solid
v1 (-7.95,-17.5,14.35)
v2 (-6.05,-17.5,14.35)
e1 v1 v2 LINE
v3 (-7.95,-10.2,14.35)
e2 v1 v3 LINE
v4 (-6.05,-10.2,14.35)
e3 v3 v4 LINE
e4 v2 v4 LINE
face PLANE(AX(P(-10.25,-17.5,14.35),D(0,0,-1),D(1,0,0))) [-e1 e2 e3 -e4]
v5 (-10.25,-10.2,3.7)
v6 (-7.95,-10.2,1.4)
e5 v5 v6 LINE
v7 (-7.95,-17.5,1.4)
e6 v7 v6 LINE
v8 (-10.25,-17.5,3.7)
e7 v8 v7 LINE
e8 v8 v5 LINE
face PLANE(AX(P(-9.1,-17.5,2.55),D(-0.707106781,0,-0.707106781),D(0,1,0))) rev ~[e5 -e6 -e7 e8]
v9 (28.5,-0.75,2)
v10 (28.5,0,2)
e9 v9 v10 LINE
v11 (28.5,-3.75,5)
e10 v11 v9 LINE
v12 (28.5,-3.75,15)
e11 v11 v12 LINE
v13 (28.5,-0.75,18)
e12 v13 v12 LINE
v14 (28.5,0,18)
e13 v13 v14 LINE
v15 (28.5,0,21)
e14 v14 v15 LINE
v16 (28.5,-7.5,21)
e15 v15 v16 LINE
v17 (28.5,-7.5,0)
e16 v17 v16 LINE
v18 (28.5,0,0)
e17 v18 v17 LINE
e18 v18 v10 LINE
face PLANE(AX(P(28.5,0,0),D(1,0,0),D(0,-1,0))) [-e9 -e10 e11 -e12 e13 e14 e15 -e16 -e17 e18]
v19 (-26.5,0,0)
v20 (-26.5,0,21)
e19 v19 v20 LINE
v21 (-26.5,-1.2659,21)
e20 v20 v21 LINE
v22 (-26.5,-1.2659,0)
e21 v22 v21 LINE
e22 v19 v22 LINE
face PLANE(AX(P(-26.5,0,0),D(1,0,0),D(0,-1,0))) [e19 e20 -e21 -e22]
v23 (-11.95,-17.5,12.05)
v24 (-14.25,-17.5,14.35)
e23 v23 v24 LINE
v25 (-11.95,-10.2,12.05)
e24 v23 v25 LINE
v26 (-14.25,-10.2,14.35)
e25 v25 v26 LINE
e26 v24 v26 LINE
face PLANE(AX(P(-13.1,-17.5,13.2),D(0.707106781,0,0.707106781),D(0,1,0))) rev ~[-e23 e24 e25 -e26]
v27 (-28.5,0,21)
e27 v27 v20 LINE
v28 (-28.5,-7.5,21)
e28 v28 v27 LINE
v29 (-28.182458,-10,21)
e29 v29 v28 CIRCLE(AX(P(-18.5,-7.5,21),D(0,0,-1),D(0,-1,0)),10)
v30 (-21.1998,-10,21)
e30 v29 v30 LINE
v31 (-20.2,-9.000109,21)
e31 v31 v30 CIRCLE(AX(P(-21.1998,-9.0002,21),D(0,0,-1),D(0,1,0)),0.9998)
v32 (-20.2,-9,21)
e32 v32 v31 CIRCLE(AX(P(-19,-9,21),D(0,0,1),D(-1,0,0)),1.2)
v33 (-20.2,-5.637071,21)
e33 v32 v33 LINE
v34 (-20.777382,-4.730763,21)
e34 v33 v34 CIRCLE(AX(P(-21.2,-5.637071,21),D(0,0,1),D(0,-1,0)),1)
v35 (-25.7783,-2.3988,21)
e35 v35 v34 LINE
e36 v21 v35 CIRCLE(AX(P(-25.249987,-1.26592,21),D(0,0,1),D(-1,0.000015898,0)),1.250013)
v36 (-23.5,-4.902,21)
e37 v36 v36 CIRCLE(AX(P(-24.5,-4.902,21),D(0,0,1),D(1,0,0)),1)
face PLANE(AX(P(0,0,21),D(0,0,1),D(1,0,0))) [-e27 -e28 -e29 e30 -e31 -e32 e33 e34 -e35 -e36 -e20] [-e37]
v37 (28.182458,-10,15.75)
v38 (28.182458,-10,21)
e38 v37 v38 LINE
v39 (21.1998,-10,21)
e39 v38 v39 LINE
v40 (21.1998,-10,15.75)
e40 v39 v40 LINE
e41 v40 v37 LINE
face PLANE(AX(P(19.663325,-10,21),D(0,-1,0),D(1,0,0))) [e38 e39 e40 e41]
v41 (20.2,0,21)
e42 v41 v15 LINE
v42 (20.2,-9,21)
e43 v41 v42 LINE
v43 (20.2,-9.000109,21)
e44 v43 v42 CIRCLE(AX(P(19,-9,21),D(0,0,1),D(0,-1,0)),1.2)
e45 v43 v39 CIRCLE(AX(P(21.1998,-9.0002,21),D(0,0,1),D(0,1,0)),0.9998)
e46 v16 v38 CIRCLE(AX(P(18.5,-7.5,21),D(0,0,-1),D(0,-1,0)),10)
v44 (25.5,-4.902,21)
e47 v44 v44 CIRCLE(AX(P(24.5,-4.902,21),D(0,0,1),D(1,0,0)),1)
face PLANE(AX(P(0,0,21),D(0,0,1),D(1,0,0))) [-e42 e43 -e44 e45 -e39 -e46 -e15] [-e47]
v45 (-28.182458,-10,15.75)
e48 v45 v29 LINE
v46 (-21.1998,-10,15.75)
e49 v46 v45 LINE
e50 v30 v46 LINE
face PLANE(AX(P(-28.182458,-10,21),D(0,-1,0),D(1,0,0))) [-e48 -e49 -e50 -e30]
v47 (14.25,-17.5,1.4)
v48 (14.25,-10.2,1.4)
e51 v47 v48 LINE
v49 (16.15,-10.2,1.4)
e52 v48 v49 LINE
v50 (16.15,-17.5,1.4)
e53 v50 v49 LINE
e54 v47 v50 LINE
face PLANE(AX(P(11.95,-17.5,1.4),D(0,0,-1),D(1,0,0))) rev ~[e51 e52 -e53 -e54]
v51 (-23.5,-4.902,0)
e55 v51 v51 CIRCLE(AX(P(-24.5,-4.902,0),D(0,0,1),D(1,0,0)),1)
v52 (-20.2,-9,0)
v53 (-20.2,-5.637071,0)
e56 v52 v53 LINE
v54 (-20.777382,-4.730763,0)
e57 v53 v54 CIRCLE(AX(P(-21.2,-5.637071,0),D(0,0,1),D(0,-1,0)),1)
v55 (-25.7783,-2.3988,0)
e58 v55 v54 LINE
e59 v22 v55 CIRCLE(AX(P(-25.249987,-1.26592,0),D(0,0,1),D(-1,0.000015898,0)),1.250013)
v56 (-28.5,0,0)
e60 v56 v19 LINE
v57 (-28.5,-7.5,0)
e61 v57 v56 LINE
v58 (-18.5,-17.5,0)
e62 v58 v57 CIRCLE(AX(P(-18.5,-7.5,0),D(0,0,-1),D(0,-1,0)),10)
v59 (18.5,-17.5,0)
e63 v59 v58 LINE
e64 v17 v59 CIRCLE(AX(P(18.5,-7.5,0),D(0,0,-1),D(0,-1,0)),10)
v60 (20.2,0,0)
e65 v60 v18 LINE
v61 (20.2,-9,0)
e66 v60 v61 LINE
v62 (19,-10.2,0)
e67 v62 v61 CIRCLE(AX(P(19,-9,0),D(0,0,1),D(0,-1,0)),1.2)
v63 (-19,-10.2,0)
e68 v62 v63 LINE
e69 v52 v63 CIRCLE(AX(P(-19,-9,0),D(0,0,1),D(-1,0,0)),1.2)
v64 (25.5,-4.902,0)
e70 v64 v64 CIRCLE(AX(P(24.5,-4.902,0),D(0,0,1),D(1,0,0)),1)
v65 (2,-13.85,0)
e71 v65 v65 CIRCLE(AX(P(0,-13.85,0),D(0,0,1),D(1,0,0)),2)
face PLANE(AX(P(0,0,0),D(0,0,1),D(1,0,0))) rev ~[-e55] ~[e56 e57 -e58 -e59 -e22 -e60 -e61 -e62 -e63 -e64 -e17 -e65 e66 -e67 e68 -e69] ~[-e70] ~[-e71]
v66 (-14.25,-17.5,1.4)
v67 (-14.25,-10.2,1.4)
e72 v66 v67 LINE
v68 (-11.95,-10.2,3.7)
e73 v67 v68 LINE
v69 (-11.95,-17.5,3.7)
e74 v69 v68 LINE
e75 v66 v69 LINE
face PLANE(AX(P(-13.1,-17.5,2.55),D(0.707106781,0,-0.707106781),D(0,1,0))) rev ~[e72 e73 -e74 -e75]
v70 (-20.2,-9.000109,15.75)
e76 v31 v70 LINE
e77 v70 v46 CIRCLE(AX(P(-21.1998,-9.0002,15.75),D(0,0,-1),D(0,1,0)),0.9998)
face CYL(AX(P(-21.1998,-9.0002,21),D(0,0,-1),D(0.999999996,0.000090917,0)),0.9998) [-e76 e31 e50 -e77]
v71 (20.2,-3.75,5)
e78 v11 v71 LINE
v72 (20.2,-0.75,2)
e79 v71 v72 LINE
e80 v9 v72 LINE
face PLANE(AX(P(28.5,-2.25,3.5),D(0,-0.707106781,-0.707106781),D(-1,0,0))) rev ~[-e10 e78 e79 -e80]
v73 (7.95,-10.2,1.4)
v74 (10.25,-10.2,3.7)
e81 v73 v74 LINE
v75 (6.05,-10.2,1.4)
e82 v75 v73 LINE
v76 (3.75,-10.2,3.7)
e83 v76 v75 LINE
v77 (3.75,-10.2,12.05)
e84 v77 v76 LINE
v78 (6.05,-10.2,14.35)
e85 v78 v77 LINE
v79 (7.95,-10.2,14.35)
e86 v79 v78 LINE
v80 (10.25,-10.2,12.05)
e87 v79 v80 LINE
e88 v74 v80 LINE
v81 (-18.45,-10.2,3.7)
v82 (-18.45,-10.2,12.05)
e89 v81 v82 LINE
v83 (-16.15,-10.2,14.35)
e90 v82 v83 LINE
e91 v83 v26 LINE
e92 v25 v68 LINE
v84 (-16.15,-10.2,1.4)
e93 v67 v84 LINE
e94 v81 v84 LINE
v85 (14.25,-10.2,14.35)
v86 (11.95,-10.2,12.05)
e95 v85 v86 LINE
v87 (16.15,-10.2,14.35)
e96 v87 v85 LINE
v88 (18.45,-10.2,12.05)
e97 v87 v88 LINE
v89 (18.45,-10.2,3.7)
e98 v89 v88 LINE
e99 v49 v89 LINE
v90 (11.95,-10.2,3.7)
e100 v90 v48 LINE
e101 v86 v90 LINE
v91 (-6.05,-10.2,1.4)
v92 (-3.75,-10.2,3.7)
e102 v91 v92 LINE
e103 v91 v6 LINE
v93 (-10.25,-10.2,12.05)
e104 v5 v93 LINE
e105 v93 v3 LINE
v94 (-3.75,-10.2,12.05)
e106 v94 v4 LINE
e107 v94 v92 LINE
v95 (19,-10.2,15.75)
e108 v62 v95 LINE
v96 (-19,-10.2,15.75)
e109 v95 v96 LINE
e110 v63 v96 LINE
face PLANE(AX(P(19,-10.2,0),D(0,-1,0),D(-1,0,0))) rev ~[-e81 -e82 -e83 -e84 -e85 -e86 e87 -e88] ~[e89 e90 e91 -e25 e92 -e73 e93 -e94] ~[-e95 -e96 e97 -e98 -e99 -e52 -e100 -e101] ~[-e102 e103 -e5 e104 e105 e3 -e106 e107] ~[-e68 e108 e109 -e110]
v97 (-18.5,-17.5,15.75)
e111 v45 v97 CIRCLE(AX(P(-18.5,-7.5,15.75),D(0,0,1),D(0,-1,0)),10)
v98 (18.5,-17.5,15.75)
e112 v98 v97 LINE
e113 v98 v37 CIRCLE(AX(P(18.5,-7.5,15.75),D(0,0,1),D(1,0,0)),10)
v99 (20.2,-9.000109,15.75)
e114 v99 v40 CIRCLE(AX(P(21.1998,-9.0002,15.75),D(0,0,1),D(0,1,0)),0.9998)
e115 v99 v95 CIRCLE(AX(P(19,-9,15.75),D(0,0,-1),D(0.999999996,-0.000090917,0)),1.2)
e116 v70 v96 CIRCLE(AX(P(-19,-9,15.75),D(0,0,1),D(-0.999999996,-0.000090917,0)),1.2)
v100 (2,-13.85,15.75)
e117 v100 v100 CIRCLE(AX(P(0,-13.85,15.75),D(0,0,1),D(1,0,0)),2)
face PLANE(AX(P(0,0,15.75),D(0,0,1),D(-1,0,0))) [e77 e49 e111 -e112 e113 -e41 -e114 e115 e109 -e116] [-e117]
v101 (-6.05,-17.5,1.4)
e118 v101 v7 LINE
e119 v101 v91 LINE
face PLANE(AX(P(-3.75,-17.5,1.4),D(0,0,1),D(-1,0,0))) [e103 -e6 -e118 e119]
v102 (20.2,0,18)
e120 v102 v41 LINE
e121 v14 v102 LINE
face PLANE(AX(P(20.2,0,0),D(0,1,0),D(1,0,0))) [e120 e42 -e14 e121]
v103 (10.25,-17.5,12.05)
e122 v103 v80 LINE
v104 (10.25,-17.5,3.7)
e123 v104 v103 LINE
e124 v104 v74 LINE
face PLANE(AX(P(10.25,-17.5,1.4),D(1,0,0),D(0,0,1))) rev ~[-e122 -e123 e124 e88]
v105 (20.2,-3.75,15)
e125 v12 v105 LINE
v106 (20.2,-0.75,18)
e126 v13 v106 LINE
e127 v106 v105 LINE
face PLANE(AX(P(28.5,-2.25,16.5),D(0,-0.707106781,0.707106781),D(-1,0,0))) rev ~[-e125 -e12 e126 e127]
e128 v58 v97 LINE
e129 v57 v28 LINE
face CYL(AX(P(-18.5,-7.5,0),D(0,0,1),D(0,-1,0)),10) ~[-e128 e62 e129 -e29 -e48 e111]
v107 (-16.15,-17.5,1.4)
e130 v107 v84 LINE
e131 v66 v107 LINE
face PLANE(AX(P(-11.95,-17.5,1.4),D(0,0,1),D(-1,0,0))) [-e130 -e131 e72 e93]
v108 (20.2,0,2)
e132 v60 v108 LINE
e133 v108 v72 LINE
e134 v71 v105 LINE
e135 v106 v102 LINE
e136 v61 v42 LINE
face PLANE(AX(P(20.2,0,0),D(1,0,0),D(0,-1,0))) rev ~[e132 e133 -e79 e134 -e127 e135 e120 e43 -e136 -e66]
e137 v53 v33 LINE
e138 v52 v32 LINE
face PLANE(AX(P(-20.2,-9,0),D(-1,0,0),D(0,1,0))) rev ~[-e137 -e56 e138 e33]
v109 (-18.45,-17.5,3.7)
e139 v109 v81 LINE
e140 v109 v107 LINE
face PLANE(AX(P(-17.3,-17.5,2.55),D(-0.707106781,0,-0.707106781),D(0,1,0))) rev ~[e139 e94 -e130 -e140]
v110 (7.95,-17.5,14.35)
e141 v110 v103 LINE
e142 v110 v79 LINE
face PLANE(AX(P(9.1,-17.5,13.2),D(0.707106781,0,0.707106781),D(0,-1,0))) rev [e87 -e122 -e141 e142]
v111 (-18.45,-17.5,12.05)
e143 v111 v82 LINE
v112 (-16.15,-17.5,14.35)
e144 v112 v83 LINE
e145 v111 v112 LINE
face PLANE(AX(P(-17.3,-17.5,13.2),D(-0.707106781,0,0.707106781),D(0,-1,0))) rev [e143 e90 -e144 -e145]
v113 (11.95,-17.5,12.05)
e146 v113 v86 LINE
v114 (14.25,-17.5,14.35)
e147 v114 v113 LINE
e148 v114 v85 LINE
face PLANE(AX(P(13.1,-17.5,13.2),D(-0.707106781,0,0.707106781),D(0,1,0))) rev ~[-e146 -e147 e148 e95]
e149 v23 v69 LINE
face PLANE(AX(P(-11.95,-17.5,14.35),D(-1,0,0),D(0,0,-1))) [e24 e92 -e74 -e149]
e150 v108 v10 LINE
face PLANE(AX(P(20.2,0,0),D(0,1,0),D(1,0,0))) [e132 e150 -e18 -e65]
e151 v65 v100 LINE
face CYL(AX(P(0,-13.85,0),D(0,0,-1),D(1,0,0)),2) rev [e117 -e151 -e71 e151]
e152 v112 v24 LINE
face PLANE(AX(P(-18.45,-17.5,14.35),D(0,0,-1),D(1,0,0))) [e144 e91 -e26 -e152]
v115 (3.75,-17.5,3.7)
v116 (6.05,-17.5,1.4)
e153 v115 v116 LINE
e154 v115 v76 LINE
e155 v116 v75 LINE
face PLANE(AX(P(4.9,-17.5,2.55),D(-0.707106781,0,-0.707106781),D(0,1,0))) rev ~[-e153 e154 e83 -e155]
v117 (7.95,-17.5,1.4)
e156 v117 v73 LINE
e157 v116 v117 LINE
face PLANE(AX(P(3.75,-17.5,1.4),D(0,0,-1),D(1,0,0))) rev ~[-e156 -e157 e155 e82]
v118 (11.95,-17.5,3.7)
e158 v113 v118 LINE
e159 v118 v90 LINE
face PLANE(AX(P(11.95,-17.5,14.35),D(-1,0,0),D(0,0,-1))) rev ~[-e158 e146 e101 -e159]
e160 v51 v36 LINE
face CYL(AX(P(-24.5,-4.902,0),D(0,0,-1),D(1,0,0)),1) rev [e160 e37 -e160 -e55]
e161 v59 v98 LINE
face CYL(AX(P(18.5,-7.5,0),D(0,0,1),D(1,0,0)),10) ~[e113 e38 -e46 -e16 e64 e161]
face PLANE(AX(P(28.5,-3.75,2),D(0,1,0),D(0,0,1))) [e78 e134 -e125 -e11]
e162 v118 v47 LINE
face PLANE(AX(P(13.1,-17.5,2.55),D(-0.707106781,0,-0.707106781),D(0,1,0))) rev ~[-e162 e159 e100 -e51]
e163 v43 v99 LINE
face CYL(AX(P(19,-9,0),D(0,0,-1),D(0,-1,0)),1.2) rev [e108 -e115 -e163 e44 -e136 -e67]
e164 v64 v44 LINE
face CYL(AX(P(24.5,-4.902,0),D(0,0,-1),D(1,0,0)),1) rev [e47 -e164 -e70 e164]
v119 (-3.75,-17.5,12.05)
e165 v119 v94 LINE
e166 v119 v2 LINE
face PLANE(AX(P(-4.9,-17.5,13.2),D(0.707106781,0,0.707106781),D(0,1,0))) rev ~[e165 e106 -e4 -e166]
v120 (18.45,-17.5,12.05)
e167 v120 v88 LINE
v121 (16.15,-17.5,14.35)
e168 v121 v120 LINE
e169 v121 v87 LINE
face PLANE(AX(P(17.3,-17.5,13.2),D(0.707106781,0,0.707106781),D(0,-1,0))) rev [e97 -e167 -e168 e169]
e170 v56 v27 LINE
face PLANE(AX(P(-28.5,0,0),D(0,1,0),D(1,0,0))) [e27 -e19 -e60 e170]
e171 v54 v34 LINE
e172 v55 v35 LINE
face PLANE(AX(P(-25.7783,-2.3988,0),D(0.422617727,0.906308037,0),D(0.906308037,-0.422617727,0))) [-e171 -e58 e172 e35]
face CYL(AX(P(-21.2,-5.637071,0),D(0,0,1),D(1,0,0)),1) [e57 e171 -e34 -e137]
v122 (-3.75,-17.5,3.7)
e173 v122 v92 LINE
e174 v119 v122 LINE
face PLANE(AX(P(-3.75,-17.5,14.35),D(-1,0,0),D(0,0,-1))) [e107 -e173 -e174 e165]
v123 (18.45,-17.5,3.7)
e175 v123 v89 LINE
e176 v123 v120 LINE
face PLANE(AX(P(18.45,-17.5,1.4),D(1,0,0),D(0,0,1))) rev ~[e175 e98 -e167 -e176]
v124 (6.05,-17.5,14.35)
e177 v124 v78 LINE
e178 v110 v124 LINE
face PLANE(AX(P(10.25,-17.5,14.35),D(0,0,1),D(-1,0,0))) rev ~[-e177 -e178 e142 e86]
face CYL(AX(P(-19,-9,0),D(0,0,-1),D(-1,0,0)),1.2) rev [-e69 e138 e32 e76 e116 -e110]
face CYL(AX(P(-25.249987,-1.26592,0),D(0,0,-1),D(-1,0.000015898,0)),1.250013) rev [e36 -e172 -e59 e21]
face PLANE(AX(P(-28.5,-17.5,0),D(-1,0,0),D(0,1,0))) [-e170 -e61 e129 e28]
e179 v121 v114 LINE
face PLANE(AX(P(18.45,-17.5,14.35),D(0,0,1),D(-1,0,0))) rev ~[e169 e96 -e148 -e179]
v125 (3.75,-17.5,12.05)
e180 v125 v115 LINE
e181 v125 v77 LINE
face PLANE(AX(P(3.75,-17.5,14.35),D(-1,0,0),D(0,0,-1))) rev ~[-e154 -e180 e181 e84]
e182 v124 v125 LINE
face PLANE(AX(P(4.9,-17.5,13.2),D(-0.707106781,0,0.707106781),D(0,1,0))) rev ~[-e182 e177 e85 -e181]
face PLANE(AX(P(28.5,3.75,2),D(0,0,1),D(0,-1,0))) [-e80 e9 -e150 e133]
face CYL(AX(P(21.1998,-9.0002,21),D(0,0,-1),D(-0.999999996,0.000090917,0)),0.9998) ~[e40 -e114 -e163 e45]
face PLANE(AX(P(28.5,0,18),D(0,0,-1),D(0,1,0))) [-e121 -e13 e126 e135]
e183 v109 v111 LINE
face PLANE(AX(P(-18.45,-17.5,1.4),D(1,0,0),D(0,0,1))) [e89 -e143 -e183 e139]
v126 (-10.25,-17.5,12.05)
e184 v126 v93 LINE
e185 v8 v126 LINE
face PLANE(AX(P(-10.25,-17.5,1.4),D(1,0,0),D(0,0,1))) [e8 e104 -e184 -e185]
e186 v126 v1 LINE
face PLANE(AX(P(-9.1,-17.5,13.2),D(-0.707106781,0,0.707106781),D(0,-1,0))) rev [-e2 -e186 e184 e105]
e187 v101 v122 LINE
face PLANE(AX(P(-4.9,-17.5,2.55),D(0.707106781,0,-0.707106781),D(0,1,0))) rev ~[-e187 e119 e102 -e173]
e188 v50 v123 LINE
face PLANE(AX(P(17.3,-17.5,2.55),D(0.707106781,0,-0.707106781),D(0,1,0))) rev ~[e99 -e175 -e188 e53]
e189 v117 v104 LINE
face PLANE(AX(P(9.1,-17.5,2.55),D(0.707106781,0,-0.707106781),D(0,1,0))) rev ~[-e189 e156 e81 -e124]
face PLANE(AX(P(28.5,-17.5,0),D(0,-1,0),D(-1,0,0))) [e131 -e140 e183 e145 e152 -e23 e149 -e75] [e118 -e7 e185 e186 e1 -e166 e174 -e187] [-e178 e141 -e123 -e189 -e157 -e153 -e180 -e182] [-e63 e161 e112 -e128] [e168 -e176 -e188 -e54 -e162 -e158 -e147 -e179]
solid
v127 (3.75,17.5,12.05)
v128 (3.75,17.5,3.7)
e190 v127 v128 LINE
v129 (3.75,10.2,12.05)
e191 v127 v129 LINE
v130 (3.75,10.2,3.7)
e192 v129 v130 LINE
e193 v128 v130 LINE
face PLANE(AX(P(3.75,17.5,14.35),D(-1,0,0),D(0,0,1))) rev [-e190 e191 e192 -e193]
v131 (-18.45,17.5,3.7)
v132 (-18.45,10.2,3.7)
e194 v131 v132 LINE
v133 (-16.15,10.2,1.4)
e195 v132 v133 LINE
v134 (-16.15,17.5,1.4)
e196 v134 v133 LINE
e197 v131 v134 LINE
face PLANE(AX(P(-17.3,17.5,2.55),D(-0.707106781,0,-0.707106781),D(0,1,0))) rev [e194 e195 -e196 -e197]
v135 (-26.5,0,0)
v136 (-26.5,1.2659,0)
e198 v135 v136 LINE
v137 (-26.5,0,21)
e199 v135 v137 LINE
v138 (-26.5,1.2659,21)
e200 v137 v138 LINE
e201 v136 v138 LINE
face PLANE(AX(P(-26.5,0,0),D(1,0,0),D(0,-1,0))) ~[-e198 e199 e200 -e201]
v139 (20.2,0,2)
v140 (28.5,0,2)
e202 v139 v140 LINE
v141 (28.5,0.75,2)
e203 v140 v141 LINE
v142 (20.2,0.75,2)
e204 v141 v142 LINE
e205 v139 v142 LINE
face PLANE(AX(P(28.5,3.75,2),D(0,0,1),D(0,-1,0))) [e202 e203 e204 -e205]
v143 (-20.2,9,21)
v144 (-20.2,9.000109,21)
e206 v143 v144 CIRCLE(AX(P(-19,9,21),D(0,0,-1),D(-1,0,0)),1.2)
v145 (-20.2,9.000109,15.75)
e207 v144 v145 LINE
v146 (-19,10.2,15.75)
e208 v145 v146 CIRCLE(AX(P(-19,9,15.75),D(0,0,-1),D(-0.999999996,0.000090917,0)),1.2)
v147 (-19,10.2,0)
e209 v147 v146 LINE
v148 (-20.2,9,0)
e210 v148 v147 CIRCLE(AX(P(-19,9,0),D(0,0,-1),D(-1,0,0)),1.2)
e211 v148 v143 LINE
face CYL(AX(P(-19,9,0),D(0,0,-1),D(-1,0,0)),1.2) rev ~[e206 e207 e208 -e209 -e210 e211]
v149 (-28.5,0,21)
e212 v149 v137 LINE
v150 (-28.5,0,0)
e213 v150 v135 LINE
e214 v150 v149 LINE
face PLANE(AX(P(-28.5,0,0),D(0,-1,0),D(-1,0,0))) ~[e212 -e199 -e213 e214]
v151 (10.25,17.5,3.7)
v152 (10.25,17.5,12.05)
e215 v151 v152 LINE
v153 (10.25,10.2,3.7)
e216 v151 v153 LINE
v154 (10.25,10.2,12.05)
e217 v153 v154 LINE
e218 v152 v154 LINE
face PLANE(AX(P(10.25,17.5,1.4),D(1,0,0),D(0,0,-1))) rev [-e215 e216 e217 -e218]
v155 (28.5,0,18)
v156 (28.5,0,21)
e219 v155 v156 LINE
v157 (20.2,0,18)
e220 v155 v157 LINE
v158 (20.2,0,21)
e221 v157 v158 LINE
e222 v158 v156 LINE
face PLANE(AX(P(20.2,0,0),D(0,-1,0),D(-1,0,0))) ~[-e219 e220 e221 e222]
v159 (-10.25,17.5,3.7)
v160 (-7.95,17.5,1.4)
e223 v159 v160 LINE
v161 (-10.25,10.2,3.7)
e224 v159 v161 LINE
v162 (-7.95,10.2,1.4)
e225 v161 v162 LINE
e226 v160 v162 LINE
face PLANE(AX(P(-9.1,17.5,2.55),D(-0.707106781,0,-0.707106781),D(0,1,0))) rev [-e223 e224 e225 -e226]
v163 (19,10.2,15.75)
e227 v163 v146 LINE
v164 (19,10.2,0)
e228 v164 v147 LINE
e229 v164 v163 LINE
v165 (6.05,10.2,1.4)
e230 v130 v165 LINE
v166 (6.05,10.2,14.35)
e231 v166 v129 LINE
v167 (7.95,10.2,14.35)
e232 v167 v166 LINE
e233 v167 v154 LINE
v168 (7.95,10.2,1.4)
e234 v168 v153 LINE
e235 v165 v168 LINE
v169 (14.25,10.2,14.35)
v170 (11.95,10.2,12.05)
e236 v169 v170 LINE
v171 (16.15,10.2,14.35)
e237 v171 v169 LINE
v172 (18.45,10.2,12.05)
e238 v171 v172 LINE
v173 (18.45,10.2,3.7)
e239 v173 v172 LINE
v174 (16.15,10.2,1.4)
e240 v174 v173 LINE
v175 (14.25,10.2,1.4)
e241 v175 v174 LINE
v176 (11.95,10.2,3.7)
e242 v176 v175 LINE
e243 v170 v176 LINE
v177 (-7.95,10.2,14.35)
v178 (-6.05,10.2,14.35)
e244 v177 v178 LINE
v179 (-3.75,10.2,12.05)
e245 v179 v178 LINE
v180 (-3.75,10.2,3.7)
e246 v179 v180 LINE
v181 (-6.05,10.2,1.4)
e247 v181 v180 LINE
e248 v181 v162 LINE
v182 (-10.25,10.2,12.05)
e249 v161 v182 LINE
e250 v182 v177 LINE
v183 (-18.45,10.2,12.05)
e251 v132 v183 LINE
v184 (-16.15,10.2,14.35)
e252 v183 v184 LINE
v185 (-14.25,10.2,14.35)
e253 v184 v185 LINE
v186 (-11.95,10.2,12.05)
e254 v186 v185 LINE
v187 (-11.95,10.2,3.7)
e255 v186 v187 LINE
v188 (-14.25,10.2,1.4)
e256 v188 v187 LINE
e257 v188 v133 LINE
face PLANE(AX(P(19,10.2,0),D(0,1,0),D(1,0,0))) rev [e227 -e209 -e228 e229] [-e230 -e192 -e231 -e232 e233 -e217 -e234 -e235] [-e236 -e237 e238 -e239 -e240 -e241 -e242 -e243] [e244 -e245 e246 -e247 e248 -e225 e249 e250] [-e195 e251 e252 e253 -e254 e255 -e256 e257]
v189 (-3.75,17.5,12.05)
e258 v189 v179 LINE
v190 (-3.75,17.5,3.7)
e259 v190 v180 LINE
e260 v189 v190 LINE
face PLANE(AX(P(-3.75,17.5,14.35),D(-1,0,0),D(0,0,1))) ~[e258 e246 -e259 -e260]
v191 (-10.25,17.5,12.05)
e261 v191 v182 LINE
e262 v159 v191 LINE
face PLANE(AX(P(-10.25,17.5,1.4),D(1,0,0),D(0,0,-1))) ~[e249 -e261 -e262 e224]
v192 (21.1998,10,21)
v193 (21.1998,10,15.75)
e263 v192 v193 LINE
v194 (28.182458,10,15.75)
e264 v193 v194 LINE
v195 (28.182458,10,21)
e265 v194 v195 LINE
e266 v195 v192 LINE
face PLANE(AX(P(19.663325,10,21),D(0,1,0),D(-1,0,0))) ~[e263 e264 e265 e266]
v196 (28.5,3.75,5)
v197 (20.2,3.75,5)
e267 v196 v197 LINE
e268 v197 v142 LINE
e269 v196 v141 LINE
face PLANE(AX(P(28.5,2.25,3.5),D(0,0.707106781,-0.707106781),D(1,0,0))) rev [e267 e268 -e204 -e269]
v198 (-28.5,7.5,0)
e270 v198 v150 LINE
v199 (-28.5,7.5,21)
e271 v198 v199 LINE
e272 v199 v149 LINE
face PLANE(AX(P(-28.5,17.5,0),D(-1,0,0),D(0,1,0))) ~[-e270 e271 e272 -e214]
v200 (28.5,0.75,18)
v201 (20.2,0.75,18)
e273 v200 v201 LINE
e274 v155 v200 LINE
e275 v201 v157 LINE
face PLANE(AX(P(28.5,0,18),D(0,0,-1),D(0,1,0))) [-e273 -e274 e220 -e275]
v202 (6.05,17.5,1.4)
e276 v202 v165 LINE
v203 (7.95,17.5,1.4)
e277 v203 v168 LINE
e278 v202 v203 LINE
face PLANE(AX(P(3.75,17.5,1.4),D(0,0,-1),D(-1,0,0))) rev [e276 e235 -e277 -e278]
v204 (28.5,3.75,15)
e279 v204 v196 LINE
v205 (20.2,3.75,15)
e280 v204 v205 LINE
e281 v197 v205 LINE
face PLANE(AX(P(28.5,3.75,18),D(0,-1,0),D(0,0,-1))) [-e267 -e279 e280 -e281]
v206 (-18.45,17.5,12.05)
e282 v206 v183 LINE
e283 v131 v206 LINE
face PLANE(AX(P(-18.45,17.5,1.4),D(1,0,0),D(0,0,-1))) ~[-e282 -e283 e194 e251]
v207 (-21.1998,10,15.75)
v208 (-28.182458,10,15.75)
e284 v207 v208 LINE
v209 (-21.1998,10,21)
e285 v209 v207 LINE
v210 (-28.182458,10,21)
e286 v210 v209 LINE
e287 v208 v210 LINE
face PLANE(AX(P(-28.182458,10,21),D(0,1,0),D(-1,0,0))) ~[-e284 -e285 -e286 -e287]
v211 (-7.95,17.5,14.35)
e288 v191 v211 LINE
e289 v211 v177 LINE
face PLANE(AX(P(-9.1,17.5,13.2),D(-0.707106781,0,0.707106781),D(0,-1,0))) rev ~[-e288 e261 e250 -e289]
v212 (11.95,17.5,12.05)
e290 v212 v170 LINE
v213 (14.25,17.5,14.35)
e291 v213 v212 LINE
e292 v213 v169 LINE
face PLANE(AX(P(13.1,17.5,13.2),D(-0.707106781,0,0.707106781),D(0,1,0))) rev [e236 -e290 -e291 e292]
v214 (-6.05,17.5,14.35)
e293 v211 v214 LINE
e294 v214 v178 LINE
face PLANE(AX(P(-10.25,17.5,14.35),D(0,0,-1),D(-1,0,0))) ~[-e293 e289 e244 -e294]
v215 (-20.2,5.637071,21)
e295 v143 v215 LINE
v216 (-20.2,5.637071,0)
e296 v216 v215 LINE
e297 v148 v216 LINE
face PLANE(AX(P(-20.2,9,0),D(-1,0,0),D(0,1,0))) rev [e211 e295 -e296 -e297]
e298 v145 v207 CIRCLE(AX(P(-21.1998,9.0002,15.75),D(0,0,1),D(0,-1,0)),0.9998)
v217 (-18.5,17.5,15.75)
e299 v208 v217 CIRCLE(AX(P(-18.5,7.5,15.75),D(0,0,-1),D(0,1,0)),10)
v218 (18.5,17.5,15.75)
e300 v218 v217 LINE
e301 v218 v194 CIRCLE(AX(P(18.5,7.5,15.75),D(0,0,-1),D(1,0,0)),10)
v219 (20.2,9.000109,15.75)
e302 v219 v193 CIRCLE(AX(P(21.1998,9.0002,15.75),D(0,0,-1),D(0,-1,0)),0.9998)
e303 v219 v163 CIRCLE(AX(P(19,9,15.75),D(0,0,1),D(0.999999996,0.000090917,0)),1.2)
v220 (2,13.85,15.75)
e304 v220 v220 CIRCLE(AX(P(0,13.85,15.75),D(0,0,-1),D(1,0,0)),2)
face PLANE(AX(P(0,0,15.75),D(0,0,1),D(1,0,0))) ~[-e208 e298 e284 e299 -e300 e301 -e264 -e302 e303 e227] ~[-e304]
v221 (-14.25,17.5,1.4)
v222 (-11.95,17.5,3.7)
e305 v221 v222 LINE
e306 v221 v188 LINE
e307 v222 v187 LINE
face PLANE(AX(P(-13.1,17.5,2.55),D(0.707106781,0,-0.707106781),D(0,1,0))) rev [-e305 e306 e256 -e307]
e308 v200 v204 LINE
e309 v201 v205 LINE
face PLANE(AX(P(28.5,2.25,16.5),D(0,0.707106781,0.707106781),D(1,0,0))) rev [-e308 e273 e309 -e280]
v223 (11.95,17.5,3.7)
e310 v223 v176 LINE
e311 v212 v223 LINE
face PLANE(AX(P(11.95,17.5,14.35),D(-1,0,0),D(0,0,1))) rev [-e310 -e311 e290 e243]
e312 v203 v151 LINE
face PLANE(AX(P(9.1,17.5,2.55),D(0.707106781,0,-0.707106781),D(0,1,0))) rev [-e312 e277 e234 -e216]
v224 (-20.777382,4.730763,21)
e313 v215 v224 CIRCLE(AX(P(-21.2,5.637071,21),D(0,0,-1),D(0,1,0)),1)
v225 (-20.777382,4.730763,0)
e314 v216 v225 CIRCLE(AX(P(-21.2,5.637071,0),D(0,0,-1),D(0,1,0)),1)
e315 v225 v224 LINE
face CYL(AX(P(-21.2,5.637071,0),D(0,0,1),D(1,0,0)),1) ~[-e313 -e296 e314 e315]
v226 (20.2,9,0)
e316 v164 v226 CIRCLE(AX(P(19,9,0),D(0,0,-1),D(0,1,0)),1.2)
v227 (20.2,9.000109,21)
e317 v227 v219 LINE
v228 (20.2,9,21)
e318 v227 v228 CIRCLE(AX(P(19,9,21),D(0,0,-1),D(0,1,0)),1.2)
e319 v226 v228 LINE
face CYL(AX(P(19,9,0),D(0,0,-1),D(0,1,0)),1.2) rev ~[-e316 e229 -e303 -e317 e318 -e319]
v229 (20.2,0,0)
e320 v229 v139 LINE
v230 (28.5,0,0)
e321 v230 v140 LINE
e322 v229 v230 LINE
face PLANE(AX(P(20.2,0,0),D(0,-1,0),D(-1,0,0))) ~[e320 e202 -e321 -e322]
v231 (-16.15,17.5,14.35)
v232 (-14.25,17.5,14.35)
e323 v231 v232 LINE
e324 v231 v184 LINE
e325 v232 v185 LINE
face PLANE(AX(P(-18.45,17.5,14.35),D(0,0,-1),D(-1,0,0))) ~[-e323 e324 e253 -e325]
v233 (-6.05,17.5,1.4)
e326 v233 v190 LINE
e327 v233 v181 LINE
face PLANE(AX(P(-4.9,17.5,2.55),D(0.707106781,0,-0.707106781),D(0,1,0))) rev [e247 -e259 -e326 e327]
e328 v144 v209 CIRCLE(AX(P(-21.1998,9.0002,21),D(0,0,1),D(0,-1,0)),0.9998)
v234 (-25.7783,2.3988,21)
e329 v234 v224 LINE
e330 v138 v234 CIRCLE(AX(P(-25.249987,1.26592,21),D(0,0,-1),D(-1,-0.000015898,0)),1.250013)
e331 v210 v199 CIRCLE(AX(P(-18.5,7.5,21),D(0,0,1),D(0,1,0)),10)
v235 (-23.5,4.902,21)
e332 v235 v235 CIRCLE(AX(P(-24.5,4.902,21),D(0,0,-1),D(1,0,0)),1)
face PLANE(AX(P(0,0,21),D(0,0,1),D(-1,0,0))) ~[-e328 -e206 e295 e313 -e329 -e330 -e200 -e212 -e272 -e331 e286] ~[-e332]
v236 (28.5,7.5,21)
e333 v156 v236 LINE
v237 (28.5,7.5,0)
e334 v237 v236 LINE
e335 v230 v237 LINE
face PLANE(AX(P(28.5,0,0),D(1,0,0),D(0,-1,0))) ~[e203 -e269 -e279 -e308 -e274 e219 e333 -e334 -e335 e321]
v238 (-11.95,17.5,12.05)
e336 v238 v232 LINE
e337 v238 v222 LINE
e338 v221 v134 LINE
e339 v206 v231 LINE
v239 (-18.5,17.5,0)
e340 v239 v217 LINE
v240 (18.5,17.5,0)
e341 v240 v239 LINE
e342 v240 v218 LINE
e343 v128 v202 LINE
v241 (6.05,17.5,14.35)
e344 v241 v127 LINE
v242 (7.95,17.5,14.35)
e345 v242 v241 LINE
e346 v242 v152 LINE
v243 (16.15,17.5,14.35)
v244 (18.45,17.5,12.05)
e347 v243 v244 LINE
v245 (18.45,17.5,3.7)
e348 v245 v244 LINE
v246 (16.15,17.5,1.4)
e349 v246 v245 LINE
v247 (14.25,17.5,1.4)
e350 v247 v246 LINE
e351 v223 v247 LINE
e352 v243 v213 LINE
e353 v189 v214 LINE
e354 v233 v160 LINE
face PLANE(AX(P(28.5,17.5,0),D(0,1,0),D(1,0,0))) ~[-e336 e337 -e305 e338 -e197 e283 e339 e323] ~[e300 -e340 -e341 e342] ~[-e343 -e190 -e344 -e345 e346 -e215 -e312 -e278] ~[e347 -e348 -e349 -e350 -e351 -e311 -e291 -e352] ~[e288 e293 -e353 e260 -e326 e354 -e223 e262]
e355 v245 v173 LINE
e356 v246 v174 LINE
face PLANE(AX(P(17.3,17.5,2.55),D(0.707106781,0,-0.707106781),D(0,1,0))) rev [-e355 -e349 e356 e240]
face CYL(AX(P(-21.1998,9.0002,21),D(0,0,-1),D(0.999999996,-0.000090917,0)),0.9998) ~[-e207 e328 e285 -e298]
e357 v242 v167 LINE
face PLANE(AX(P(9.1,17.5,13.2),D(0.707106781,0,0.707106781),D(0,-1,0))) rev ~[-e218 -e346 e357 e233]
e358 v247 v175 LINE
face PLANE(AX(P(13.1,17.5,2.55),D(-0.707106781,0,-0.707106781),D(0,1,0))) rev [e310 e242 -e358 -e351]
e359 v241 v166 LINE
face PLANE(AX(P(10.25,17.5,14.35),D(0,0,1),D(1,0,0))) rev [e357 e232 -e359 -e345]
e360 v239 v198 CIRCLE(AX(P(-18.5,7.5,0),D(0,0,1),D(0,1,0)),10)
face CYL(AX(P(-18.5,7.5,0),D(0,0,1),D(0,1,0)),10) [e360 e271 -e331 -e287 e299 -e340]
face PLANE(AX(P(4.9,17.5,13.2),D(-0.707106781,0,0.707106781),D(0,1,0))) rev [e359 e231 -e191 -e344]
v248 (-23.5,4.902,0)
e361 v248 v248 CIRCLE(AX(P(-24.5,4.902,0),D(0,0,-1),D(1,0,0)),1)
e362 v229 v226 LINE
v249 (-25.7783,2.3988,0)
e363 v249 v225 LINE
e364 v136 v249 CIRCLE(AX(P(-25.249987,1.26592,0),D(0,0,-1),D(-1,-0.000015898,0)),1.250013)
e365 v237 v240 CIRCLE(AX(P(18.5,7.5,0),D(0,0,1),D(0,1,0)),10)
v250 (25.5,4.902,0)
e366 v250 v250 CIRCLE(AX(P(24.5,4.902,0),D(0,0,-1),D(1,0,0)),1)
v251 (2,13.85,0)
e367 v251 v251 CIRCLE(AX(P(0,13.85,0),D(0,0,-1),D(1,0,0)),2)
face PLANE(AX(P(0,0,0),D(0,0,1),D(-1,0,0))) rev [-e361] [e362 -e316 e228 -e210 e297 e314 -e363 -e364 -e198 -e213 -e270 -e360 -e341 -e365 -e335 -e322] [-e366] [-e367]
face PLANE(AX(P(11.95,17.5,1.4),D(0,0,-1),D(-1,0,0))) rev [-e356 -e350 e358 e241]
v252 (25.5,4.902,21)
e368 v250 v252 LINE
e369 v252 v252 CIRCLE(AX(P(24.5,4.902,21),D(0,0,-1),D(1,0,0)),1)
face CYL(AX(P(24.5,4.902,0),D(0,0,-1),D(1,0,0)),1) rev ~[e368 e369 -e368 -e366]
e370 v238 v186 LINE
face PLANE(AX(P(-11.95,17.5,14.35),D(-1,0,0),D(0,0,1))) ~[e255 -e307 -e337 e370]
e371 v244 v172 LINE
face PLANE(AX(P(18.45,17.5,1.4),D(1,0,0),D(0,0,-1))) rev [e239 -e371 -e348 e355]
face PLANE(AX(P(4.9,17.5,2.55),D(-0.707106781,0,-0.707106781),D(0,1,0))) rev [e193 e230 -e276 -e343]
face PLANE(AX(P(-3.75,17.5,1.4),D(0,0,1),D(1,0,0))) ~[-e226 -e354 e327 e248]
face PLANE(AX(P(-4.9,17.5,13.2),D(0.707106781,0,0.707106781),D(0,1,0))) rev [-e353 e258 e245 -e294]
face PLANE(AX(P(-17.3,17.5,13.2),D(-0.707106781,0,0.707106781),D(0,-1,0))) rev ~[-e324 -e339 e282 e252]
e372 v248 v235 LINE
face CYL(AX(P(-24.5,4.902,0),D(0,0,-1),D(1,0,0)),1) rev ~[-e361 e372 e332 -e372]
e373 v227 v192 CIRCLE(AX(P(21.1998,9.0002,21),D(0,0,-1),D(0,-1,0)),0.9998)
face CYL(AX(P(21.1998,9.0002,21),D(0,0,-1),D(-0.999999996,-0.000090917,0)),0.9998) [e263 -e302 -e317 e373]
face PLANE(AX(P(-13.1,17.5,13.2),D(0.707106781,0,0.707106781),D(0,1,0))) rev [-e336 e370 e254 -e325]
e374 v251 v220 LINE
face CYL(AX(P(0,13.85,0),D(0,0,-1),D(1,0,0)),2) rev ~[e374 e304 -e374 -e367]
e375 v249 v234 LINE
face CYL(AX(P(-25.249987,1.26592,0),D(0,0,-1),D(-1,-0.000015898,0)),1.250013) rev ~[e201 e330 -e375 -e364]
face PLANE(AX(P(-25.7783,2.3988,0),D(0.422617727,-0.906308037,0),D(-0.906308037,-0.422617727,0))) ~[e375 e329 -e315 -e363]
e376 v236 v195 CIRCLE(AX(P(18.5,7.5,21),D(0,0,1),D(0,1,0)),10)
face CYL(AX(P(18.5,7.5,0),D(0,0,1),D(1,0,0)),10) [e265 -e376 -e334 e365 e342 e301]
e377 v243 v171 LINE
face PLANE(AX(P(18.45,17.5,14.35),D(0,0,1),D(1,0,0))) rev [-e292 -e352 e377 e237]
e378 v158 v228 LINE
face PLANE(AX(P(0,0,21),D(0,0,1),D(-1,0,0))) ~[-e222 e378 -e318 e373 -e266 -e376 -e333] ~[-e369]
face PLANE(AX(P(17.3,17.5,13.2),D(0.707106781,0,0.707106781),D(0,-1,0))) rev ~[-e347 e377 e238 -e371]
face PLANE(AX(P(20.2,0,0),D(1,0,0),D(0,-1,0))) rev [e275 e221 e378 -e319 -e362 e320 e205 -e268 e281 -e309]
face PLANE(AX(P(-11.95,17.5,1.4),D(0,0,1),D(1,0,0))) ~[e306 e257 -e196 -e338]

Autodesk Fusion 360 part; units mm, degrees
sketch "Sketch1" plane through (0, 0, 0) normal (0, 0, 1) x (1, 0, 0)
  line L0 (-28.5, 0) -> (28.5, 0)
  line L1 (28.5, 0) -> (28.5, -17.5)
  line L2 (28.5, -17.5) -> (-28.5, -17.5)
  line L3 (-28.5, -17.5) -> (-28.5, 0)
  line L4 (-20.2, 0) -> (20.2, 0)
  line L5 (20.2, 0) -> (20.2, -9)
  line L6 (19, -10.2) -> (-19, -10.2)
  line L7 (-20.2, -9) -> (-20.2, 0)
  arc A0 (-20.2, -9) -> (-19, -10.2) centre (-19, -9) ccw
  arc A1 (19, -10.2) -> (20.2, -9) centre (19, -9) ccw
  line L8 (-26.5, 0) -> (-26.5, -1.2659)
  line L9 (-25.7783, -2.3988) -> (-20.2, -5)
  arc A2 (-26.5, -1.2659) -> (-25.7783, -2.3988) centre (-25.25, -1.2659) ccw
  circle A3 centre (-24.5, -4.902) radius 1
  circle A4 centre (0, -13.85) radius 2
  line L10 (0, 0) -> (0, -20.883) construction
  circle A5 centre (24.5, -4.902) radius 1
  point P0 (20.2, -10.2)
  point P1 (-20.2, -10.2)
  dimension "d1" = 17.5
  dimension "d2" = 57
  dimension "d3" = 28.5
  dimension "d10" = 10.2
  dimension "d11" = 40.4
  dimension "d12" = 20.2
  dimension "d13" = 1.2
  dimension "d14" = 1.2
  dimension "d17" = 1.25
  dimension "d18" = 2
  dimension "d19" = 5
  dimension "d20" = 65
  dimension "d23" = 4.902
  dimension "d24" = 2
  dimension "d25" = 4
  dimension "d27" = 4
  dimension "d28" = 3.65
  dimension "d29" = 4
  dimension "d30" = 4.902
extrude "Extrude1" add sketch "Sketch1" along normal blind 21 contours L0 L1 L2 L3 L5 L6 L7 A0 A1 L8 L9 A2 makes body 1
fillet "Fillet1" radius 10 2 edges at (-28.5, -17.5, 10.5) (28.5, -17.5, 10.5) on bodies 1
fillet "Fillet2" radius 1 1 edges at (-20.2, -5, 10.5) on bodies 1
sketch "Sketch3" plane through (0, 0, 21) normal (0, 0, 1) x (-1, 0, 0)
  arc A0 (20.2, 5.6371) -> (20.7774, 4.7308) centre (21.2, 5.6371) ccw
  line L0 (20.7774, 4.7308) -> (25.7783, 2.3988)
  arc A1 (26.5, 1.2659) -> (25.7783, 2.3988) centre (25.25, 1.2659) ccw
  line L1 (26.5, 1.2659) -> (26.5, 0)
  line L2 (26.5, 0) -> (28.5, 0)
  line L3 (28.5, 0) -> (28.5, 7.5)
  arc A2 (28.5, 7.5) -> (18.5, 17.5) centre (18.5, 7.5) ccw
  line L4 (18.5, 17.5) -> (-18.5, 17.5)
  arc A3 (-18.5, 17.5) -> (-28.5, 7.5) centre (-18.5, 7.5) ccw
  line L5 (-28.5, 7.5) -> (-28.5, 0)
  line L6 (-28.5, 0) -> (-20.2, 0)
  line L7 (-20.2, 0) -> (-20.2, 9)
  arc A4 (-19, 10.2) -> (-20.2, 9) centre (-19, 9) ccw
  line L8 (-19, 10.2) -> (19, 10.2)
  arc A5 (20.2, 9) -> (19, 10.2) centre (19, 9) ccw
  line L9 (20.2, 9) -> (20.2, 5.6371)
  circle A6 centre (24.5, 4.902) radius 1
  circle A7 centre (-24.5, 4.902) radius 1
  circle A8 centre (0, 13.85) radius 2
  line L10 (32.5, 10) -> (-32.5, 10)
  line L11 (-32.5, 10) -> (-32.5, 20)
  line L12 (-32.5, 20) -> (32.5, 20)
  line L13 (32.5, 20) -> (32.5, 10)
  dimension "d31" = 10
  dimension "d32" = 10
  dimension "d33" = 65
  dimension "d34" = 4
extrude "Extrude3" cut sketch "Sketch3" against normal blind 5.25 contours A2 L4 A3 A4 L8 A5 L10 | A2 L4 A3 L10 L11 L12 L13 bodies 1
fillet "Fillet3" radius 1 2 edges at (-19.6633, -10, 18.375) (19.6633, -10, 18.375) on bodies 1
sketch "Sketch4" plane through (0, -17.5, 0) normal (0, -1, 0) x (1, 0, 0)
  line L0 (18.5, 15.75) -> (-18.5, 15.75)
  line L1 (-18.5, 15.75) -> (-18.5, 0)
  line L2 (-18.5, 0) -> (18.5, 0)
  line L3 (18.5, 0) -> (18.5, 15.75)
  line L4 (-10.25, 14.35) -> (-3.75, 14.35)
  line L5 (-3.75, 14.35) -> (-3.75, 1.4)
  line L6 (-3.75, 1.4) -> (-10.25, 1.4)
  line L7 (-10.25, 1.4) -> (-10.25, 14.35)
  line L8 (0, 0) -> (0, 19.5857) construction
  line L9 (-18.45, 14.35) -> (-11.95, 14.35)
  line L10 (-11.95, 14.35) -> (-11.95, 1.4)
  line L11 (-11.95, 1.4) -> (-18.45, 1.4)
  line L12 (-18.45, 1.4) -> (-18.45, 14.35)
  line L13 (2, 15.75) -> (-2, 15.75)
  line L14 (-2, 0) -> (2, 0)
  line L15 (-20.2, 0) -> (-20.2, 21)
  line L16 (-20.2, 21) -> (-20.2, 15.75)
  line L17 (-20.2, 15.75) -> (-20.2, 0)
  line L18 (3.75, 14.35) -> (3.75, 1.4)
  line L19 (11.95, 14.35) -> (11.95, 1.4)
  line L20 (3.75, 1.4) -> (10.25, 1.4)
  line L21 (11.95, 1.4) -> (18.45, 1.4)
  line L22 (10.25, 1.4) -> (10.25, 14.35)
  line L23 (10.25, 14.35) -> (3.75, 14.35)
  line L24 (18.45, 1.4) -> (18.45, 14.35)
  line L25 (18.45, 14.35) -> (11.95, 14.35)
  point P0 (18.5, 15.75)
  dimension "d40" = 1.4
  dimension "d41" = 1.4
  dimension "d42" = 6.5
  dimension "d44" = 1.75
  dimension "d45" = 1.75
extrude "Extrude4" cut sketch "Sketch4" against normal through all contours L4 L5 L6 L7 | L9 L10 L11 L12 | L18 L20 L22 L23 | L19 L21 L24 L25 bodies 1
chamfer "Chamfer1" distance 2.3 angle 45 16 edges at (-18.45, -13.85, 14.35) (-10.25, -13.85, 14.35) (3.75, -13.85, 14.35) (11.95, -13.85, 14.35) (-11.95, -13.85, 14.35) (-3.75, -13.85, 14.35) (10.25, -13.85, 14.35) (18.45, -13.85, 14.35) (18.45, -13.85, 1.4) (10.25, -13.85, 1.4) (-3.75, -13.85, 1.4) (-11.95, -13.85, 1.4) (-18.45, -13.85, 1.4) (-10.25, -13.85, 1.4) (3.75, -13.85, 1.4) (11.95, -13.85, 1.4) on bodies 1
mirror "Mirror1" about plane through (0, 0, 0) normal (0, 1, 0) of bodies 1 makes body 2
sketch "Sketch5" plane through (28.5, 0, 0) normal (1, 0, 0) x (0, 1, 0)
  line L0 (-7.5, 21) -> (-7.5, 0)
  line L1 (-7.5, 0) -> (0, 0)
  line L2 (0, 0) -> (0, 21)
  line L3 (0, 21) -> (-7.5, 21)
  line L4 (-3.75, 18) -> (3.75, 18)
  line L5 (3.75, 18) -> (3.75, 2)
  line L6 (3.75, 2) -> (-3.75, 2)
  line L7 (-3.75, 2) -> (-3.75, 18)
  line L8 (0, 0) -> (0, 25.4329) construction
  line L9 (7.5, 21) -> (0, 21)
  dimension "d50" = 16
  dimension "d51" = 3
  dimension "d52" = 7.5
extrude "Extrude5" cut sketch "Sketch5" against normal blind 14 contours L2 L4 L5 L6 | L2 L4 L6 L7 bodies 1 2
chamfer "Chamfer2" distance 3 angle 45 4 edges at (24.35, 3.75, 2) (24.35, 3.75, 18) (24.35, -3.75, 2) (24.35, -3.75, 18) on bodies 1 2
equation "d3 = d2 / 2"
equation "d12 = d11 / 2"
equation "d23 = ( 9.804 / 2 ) * 1 mm"
equation "d28 = ( 7.3 / 2 ) * 1 mm"
equation "d30 = d23"
equation "d45 = d44"
